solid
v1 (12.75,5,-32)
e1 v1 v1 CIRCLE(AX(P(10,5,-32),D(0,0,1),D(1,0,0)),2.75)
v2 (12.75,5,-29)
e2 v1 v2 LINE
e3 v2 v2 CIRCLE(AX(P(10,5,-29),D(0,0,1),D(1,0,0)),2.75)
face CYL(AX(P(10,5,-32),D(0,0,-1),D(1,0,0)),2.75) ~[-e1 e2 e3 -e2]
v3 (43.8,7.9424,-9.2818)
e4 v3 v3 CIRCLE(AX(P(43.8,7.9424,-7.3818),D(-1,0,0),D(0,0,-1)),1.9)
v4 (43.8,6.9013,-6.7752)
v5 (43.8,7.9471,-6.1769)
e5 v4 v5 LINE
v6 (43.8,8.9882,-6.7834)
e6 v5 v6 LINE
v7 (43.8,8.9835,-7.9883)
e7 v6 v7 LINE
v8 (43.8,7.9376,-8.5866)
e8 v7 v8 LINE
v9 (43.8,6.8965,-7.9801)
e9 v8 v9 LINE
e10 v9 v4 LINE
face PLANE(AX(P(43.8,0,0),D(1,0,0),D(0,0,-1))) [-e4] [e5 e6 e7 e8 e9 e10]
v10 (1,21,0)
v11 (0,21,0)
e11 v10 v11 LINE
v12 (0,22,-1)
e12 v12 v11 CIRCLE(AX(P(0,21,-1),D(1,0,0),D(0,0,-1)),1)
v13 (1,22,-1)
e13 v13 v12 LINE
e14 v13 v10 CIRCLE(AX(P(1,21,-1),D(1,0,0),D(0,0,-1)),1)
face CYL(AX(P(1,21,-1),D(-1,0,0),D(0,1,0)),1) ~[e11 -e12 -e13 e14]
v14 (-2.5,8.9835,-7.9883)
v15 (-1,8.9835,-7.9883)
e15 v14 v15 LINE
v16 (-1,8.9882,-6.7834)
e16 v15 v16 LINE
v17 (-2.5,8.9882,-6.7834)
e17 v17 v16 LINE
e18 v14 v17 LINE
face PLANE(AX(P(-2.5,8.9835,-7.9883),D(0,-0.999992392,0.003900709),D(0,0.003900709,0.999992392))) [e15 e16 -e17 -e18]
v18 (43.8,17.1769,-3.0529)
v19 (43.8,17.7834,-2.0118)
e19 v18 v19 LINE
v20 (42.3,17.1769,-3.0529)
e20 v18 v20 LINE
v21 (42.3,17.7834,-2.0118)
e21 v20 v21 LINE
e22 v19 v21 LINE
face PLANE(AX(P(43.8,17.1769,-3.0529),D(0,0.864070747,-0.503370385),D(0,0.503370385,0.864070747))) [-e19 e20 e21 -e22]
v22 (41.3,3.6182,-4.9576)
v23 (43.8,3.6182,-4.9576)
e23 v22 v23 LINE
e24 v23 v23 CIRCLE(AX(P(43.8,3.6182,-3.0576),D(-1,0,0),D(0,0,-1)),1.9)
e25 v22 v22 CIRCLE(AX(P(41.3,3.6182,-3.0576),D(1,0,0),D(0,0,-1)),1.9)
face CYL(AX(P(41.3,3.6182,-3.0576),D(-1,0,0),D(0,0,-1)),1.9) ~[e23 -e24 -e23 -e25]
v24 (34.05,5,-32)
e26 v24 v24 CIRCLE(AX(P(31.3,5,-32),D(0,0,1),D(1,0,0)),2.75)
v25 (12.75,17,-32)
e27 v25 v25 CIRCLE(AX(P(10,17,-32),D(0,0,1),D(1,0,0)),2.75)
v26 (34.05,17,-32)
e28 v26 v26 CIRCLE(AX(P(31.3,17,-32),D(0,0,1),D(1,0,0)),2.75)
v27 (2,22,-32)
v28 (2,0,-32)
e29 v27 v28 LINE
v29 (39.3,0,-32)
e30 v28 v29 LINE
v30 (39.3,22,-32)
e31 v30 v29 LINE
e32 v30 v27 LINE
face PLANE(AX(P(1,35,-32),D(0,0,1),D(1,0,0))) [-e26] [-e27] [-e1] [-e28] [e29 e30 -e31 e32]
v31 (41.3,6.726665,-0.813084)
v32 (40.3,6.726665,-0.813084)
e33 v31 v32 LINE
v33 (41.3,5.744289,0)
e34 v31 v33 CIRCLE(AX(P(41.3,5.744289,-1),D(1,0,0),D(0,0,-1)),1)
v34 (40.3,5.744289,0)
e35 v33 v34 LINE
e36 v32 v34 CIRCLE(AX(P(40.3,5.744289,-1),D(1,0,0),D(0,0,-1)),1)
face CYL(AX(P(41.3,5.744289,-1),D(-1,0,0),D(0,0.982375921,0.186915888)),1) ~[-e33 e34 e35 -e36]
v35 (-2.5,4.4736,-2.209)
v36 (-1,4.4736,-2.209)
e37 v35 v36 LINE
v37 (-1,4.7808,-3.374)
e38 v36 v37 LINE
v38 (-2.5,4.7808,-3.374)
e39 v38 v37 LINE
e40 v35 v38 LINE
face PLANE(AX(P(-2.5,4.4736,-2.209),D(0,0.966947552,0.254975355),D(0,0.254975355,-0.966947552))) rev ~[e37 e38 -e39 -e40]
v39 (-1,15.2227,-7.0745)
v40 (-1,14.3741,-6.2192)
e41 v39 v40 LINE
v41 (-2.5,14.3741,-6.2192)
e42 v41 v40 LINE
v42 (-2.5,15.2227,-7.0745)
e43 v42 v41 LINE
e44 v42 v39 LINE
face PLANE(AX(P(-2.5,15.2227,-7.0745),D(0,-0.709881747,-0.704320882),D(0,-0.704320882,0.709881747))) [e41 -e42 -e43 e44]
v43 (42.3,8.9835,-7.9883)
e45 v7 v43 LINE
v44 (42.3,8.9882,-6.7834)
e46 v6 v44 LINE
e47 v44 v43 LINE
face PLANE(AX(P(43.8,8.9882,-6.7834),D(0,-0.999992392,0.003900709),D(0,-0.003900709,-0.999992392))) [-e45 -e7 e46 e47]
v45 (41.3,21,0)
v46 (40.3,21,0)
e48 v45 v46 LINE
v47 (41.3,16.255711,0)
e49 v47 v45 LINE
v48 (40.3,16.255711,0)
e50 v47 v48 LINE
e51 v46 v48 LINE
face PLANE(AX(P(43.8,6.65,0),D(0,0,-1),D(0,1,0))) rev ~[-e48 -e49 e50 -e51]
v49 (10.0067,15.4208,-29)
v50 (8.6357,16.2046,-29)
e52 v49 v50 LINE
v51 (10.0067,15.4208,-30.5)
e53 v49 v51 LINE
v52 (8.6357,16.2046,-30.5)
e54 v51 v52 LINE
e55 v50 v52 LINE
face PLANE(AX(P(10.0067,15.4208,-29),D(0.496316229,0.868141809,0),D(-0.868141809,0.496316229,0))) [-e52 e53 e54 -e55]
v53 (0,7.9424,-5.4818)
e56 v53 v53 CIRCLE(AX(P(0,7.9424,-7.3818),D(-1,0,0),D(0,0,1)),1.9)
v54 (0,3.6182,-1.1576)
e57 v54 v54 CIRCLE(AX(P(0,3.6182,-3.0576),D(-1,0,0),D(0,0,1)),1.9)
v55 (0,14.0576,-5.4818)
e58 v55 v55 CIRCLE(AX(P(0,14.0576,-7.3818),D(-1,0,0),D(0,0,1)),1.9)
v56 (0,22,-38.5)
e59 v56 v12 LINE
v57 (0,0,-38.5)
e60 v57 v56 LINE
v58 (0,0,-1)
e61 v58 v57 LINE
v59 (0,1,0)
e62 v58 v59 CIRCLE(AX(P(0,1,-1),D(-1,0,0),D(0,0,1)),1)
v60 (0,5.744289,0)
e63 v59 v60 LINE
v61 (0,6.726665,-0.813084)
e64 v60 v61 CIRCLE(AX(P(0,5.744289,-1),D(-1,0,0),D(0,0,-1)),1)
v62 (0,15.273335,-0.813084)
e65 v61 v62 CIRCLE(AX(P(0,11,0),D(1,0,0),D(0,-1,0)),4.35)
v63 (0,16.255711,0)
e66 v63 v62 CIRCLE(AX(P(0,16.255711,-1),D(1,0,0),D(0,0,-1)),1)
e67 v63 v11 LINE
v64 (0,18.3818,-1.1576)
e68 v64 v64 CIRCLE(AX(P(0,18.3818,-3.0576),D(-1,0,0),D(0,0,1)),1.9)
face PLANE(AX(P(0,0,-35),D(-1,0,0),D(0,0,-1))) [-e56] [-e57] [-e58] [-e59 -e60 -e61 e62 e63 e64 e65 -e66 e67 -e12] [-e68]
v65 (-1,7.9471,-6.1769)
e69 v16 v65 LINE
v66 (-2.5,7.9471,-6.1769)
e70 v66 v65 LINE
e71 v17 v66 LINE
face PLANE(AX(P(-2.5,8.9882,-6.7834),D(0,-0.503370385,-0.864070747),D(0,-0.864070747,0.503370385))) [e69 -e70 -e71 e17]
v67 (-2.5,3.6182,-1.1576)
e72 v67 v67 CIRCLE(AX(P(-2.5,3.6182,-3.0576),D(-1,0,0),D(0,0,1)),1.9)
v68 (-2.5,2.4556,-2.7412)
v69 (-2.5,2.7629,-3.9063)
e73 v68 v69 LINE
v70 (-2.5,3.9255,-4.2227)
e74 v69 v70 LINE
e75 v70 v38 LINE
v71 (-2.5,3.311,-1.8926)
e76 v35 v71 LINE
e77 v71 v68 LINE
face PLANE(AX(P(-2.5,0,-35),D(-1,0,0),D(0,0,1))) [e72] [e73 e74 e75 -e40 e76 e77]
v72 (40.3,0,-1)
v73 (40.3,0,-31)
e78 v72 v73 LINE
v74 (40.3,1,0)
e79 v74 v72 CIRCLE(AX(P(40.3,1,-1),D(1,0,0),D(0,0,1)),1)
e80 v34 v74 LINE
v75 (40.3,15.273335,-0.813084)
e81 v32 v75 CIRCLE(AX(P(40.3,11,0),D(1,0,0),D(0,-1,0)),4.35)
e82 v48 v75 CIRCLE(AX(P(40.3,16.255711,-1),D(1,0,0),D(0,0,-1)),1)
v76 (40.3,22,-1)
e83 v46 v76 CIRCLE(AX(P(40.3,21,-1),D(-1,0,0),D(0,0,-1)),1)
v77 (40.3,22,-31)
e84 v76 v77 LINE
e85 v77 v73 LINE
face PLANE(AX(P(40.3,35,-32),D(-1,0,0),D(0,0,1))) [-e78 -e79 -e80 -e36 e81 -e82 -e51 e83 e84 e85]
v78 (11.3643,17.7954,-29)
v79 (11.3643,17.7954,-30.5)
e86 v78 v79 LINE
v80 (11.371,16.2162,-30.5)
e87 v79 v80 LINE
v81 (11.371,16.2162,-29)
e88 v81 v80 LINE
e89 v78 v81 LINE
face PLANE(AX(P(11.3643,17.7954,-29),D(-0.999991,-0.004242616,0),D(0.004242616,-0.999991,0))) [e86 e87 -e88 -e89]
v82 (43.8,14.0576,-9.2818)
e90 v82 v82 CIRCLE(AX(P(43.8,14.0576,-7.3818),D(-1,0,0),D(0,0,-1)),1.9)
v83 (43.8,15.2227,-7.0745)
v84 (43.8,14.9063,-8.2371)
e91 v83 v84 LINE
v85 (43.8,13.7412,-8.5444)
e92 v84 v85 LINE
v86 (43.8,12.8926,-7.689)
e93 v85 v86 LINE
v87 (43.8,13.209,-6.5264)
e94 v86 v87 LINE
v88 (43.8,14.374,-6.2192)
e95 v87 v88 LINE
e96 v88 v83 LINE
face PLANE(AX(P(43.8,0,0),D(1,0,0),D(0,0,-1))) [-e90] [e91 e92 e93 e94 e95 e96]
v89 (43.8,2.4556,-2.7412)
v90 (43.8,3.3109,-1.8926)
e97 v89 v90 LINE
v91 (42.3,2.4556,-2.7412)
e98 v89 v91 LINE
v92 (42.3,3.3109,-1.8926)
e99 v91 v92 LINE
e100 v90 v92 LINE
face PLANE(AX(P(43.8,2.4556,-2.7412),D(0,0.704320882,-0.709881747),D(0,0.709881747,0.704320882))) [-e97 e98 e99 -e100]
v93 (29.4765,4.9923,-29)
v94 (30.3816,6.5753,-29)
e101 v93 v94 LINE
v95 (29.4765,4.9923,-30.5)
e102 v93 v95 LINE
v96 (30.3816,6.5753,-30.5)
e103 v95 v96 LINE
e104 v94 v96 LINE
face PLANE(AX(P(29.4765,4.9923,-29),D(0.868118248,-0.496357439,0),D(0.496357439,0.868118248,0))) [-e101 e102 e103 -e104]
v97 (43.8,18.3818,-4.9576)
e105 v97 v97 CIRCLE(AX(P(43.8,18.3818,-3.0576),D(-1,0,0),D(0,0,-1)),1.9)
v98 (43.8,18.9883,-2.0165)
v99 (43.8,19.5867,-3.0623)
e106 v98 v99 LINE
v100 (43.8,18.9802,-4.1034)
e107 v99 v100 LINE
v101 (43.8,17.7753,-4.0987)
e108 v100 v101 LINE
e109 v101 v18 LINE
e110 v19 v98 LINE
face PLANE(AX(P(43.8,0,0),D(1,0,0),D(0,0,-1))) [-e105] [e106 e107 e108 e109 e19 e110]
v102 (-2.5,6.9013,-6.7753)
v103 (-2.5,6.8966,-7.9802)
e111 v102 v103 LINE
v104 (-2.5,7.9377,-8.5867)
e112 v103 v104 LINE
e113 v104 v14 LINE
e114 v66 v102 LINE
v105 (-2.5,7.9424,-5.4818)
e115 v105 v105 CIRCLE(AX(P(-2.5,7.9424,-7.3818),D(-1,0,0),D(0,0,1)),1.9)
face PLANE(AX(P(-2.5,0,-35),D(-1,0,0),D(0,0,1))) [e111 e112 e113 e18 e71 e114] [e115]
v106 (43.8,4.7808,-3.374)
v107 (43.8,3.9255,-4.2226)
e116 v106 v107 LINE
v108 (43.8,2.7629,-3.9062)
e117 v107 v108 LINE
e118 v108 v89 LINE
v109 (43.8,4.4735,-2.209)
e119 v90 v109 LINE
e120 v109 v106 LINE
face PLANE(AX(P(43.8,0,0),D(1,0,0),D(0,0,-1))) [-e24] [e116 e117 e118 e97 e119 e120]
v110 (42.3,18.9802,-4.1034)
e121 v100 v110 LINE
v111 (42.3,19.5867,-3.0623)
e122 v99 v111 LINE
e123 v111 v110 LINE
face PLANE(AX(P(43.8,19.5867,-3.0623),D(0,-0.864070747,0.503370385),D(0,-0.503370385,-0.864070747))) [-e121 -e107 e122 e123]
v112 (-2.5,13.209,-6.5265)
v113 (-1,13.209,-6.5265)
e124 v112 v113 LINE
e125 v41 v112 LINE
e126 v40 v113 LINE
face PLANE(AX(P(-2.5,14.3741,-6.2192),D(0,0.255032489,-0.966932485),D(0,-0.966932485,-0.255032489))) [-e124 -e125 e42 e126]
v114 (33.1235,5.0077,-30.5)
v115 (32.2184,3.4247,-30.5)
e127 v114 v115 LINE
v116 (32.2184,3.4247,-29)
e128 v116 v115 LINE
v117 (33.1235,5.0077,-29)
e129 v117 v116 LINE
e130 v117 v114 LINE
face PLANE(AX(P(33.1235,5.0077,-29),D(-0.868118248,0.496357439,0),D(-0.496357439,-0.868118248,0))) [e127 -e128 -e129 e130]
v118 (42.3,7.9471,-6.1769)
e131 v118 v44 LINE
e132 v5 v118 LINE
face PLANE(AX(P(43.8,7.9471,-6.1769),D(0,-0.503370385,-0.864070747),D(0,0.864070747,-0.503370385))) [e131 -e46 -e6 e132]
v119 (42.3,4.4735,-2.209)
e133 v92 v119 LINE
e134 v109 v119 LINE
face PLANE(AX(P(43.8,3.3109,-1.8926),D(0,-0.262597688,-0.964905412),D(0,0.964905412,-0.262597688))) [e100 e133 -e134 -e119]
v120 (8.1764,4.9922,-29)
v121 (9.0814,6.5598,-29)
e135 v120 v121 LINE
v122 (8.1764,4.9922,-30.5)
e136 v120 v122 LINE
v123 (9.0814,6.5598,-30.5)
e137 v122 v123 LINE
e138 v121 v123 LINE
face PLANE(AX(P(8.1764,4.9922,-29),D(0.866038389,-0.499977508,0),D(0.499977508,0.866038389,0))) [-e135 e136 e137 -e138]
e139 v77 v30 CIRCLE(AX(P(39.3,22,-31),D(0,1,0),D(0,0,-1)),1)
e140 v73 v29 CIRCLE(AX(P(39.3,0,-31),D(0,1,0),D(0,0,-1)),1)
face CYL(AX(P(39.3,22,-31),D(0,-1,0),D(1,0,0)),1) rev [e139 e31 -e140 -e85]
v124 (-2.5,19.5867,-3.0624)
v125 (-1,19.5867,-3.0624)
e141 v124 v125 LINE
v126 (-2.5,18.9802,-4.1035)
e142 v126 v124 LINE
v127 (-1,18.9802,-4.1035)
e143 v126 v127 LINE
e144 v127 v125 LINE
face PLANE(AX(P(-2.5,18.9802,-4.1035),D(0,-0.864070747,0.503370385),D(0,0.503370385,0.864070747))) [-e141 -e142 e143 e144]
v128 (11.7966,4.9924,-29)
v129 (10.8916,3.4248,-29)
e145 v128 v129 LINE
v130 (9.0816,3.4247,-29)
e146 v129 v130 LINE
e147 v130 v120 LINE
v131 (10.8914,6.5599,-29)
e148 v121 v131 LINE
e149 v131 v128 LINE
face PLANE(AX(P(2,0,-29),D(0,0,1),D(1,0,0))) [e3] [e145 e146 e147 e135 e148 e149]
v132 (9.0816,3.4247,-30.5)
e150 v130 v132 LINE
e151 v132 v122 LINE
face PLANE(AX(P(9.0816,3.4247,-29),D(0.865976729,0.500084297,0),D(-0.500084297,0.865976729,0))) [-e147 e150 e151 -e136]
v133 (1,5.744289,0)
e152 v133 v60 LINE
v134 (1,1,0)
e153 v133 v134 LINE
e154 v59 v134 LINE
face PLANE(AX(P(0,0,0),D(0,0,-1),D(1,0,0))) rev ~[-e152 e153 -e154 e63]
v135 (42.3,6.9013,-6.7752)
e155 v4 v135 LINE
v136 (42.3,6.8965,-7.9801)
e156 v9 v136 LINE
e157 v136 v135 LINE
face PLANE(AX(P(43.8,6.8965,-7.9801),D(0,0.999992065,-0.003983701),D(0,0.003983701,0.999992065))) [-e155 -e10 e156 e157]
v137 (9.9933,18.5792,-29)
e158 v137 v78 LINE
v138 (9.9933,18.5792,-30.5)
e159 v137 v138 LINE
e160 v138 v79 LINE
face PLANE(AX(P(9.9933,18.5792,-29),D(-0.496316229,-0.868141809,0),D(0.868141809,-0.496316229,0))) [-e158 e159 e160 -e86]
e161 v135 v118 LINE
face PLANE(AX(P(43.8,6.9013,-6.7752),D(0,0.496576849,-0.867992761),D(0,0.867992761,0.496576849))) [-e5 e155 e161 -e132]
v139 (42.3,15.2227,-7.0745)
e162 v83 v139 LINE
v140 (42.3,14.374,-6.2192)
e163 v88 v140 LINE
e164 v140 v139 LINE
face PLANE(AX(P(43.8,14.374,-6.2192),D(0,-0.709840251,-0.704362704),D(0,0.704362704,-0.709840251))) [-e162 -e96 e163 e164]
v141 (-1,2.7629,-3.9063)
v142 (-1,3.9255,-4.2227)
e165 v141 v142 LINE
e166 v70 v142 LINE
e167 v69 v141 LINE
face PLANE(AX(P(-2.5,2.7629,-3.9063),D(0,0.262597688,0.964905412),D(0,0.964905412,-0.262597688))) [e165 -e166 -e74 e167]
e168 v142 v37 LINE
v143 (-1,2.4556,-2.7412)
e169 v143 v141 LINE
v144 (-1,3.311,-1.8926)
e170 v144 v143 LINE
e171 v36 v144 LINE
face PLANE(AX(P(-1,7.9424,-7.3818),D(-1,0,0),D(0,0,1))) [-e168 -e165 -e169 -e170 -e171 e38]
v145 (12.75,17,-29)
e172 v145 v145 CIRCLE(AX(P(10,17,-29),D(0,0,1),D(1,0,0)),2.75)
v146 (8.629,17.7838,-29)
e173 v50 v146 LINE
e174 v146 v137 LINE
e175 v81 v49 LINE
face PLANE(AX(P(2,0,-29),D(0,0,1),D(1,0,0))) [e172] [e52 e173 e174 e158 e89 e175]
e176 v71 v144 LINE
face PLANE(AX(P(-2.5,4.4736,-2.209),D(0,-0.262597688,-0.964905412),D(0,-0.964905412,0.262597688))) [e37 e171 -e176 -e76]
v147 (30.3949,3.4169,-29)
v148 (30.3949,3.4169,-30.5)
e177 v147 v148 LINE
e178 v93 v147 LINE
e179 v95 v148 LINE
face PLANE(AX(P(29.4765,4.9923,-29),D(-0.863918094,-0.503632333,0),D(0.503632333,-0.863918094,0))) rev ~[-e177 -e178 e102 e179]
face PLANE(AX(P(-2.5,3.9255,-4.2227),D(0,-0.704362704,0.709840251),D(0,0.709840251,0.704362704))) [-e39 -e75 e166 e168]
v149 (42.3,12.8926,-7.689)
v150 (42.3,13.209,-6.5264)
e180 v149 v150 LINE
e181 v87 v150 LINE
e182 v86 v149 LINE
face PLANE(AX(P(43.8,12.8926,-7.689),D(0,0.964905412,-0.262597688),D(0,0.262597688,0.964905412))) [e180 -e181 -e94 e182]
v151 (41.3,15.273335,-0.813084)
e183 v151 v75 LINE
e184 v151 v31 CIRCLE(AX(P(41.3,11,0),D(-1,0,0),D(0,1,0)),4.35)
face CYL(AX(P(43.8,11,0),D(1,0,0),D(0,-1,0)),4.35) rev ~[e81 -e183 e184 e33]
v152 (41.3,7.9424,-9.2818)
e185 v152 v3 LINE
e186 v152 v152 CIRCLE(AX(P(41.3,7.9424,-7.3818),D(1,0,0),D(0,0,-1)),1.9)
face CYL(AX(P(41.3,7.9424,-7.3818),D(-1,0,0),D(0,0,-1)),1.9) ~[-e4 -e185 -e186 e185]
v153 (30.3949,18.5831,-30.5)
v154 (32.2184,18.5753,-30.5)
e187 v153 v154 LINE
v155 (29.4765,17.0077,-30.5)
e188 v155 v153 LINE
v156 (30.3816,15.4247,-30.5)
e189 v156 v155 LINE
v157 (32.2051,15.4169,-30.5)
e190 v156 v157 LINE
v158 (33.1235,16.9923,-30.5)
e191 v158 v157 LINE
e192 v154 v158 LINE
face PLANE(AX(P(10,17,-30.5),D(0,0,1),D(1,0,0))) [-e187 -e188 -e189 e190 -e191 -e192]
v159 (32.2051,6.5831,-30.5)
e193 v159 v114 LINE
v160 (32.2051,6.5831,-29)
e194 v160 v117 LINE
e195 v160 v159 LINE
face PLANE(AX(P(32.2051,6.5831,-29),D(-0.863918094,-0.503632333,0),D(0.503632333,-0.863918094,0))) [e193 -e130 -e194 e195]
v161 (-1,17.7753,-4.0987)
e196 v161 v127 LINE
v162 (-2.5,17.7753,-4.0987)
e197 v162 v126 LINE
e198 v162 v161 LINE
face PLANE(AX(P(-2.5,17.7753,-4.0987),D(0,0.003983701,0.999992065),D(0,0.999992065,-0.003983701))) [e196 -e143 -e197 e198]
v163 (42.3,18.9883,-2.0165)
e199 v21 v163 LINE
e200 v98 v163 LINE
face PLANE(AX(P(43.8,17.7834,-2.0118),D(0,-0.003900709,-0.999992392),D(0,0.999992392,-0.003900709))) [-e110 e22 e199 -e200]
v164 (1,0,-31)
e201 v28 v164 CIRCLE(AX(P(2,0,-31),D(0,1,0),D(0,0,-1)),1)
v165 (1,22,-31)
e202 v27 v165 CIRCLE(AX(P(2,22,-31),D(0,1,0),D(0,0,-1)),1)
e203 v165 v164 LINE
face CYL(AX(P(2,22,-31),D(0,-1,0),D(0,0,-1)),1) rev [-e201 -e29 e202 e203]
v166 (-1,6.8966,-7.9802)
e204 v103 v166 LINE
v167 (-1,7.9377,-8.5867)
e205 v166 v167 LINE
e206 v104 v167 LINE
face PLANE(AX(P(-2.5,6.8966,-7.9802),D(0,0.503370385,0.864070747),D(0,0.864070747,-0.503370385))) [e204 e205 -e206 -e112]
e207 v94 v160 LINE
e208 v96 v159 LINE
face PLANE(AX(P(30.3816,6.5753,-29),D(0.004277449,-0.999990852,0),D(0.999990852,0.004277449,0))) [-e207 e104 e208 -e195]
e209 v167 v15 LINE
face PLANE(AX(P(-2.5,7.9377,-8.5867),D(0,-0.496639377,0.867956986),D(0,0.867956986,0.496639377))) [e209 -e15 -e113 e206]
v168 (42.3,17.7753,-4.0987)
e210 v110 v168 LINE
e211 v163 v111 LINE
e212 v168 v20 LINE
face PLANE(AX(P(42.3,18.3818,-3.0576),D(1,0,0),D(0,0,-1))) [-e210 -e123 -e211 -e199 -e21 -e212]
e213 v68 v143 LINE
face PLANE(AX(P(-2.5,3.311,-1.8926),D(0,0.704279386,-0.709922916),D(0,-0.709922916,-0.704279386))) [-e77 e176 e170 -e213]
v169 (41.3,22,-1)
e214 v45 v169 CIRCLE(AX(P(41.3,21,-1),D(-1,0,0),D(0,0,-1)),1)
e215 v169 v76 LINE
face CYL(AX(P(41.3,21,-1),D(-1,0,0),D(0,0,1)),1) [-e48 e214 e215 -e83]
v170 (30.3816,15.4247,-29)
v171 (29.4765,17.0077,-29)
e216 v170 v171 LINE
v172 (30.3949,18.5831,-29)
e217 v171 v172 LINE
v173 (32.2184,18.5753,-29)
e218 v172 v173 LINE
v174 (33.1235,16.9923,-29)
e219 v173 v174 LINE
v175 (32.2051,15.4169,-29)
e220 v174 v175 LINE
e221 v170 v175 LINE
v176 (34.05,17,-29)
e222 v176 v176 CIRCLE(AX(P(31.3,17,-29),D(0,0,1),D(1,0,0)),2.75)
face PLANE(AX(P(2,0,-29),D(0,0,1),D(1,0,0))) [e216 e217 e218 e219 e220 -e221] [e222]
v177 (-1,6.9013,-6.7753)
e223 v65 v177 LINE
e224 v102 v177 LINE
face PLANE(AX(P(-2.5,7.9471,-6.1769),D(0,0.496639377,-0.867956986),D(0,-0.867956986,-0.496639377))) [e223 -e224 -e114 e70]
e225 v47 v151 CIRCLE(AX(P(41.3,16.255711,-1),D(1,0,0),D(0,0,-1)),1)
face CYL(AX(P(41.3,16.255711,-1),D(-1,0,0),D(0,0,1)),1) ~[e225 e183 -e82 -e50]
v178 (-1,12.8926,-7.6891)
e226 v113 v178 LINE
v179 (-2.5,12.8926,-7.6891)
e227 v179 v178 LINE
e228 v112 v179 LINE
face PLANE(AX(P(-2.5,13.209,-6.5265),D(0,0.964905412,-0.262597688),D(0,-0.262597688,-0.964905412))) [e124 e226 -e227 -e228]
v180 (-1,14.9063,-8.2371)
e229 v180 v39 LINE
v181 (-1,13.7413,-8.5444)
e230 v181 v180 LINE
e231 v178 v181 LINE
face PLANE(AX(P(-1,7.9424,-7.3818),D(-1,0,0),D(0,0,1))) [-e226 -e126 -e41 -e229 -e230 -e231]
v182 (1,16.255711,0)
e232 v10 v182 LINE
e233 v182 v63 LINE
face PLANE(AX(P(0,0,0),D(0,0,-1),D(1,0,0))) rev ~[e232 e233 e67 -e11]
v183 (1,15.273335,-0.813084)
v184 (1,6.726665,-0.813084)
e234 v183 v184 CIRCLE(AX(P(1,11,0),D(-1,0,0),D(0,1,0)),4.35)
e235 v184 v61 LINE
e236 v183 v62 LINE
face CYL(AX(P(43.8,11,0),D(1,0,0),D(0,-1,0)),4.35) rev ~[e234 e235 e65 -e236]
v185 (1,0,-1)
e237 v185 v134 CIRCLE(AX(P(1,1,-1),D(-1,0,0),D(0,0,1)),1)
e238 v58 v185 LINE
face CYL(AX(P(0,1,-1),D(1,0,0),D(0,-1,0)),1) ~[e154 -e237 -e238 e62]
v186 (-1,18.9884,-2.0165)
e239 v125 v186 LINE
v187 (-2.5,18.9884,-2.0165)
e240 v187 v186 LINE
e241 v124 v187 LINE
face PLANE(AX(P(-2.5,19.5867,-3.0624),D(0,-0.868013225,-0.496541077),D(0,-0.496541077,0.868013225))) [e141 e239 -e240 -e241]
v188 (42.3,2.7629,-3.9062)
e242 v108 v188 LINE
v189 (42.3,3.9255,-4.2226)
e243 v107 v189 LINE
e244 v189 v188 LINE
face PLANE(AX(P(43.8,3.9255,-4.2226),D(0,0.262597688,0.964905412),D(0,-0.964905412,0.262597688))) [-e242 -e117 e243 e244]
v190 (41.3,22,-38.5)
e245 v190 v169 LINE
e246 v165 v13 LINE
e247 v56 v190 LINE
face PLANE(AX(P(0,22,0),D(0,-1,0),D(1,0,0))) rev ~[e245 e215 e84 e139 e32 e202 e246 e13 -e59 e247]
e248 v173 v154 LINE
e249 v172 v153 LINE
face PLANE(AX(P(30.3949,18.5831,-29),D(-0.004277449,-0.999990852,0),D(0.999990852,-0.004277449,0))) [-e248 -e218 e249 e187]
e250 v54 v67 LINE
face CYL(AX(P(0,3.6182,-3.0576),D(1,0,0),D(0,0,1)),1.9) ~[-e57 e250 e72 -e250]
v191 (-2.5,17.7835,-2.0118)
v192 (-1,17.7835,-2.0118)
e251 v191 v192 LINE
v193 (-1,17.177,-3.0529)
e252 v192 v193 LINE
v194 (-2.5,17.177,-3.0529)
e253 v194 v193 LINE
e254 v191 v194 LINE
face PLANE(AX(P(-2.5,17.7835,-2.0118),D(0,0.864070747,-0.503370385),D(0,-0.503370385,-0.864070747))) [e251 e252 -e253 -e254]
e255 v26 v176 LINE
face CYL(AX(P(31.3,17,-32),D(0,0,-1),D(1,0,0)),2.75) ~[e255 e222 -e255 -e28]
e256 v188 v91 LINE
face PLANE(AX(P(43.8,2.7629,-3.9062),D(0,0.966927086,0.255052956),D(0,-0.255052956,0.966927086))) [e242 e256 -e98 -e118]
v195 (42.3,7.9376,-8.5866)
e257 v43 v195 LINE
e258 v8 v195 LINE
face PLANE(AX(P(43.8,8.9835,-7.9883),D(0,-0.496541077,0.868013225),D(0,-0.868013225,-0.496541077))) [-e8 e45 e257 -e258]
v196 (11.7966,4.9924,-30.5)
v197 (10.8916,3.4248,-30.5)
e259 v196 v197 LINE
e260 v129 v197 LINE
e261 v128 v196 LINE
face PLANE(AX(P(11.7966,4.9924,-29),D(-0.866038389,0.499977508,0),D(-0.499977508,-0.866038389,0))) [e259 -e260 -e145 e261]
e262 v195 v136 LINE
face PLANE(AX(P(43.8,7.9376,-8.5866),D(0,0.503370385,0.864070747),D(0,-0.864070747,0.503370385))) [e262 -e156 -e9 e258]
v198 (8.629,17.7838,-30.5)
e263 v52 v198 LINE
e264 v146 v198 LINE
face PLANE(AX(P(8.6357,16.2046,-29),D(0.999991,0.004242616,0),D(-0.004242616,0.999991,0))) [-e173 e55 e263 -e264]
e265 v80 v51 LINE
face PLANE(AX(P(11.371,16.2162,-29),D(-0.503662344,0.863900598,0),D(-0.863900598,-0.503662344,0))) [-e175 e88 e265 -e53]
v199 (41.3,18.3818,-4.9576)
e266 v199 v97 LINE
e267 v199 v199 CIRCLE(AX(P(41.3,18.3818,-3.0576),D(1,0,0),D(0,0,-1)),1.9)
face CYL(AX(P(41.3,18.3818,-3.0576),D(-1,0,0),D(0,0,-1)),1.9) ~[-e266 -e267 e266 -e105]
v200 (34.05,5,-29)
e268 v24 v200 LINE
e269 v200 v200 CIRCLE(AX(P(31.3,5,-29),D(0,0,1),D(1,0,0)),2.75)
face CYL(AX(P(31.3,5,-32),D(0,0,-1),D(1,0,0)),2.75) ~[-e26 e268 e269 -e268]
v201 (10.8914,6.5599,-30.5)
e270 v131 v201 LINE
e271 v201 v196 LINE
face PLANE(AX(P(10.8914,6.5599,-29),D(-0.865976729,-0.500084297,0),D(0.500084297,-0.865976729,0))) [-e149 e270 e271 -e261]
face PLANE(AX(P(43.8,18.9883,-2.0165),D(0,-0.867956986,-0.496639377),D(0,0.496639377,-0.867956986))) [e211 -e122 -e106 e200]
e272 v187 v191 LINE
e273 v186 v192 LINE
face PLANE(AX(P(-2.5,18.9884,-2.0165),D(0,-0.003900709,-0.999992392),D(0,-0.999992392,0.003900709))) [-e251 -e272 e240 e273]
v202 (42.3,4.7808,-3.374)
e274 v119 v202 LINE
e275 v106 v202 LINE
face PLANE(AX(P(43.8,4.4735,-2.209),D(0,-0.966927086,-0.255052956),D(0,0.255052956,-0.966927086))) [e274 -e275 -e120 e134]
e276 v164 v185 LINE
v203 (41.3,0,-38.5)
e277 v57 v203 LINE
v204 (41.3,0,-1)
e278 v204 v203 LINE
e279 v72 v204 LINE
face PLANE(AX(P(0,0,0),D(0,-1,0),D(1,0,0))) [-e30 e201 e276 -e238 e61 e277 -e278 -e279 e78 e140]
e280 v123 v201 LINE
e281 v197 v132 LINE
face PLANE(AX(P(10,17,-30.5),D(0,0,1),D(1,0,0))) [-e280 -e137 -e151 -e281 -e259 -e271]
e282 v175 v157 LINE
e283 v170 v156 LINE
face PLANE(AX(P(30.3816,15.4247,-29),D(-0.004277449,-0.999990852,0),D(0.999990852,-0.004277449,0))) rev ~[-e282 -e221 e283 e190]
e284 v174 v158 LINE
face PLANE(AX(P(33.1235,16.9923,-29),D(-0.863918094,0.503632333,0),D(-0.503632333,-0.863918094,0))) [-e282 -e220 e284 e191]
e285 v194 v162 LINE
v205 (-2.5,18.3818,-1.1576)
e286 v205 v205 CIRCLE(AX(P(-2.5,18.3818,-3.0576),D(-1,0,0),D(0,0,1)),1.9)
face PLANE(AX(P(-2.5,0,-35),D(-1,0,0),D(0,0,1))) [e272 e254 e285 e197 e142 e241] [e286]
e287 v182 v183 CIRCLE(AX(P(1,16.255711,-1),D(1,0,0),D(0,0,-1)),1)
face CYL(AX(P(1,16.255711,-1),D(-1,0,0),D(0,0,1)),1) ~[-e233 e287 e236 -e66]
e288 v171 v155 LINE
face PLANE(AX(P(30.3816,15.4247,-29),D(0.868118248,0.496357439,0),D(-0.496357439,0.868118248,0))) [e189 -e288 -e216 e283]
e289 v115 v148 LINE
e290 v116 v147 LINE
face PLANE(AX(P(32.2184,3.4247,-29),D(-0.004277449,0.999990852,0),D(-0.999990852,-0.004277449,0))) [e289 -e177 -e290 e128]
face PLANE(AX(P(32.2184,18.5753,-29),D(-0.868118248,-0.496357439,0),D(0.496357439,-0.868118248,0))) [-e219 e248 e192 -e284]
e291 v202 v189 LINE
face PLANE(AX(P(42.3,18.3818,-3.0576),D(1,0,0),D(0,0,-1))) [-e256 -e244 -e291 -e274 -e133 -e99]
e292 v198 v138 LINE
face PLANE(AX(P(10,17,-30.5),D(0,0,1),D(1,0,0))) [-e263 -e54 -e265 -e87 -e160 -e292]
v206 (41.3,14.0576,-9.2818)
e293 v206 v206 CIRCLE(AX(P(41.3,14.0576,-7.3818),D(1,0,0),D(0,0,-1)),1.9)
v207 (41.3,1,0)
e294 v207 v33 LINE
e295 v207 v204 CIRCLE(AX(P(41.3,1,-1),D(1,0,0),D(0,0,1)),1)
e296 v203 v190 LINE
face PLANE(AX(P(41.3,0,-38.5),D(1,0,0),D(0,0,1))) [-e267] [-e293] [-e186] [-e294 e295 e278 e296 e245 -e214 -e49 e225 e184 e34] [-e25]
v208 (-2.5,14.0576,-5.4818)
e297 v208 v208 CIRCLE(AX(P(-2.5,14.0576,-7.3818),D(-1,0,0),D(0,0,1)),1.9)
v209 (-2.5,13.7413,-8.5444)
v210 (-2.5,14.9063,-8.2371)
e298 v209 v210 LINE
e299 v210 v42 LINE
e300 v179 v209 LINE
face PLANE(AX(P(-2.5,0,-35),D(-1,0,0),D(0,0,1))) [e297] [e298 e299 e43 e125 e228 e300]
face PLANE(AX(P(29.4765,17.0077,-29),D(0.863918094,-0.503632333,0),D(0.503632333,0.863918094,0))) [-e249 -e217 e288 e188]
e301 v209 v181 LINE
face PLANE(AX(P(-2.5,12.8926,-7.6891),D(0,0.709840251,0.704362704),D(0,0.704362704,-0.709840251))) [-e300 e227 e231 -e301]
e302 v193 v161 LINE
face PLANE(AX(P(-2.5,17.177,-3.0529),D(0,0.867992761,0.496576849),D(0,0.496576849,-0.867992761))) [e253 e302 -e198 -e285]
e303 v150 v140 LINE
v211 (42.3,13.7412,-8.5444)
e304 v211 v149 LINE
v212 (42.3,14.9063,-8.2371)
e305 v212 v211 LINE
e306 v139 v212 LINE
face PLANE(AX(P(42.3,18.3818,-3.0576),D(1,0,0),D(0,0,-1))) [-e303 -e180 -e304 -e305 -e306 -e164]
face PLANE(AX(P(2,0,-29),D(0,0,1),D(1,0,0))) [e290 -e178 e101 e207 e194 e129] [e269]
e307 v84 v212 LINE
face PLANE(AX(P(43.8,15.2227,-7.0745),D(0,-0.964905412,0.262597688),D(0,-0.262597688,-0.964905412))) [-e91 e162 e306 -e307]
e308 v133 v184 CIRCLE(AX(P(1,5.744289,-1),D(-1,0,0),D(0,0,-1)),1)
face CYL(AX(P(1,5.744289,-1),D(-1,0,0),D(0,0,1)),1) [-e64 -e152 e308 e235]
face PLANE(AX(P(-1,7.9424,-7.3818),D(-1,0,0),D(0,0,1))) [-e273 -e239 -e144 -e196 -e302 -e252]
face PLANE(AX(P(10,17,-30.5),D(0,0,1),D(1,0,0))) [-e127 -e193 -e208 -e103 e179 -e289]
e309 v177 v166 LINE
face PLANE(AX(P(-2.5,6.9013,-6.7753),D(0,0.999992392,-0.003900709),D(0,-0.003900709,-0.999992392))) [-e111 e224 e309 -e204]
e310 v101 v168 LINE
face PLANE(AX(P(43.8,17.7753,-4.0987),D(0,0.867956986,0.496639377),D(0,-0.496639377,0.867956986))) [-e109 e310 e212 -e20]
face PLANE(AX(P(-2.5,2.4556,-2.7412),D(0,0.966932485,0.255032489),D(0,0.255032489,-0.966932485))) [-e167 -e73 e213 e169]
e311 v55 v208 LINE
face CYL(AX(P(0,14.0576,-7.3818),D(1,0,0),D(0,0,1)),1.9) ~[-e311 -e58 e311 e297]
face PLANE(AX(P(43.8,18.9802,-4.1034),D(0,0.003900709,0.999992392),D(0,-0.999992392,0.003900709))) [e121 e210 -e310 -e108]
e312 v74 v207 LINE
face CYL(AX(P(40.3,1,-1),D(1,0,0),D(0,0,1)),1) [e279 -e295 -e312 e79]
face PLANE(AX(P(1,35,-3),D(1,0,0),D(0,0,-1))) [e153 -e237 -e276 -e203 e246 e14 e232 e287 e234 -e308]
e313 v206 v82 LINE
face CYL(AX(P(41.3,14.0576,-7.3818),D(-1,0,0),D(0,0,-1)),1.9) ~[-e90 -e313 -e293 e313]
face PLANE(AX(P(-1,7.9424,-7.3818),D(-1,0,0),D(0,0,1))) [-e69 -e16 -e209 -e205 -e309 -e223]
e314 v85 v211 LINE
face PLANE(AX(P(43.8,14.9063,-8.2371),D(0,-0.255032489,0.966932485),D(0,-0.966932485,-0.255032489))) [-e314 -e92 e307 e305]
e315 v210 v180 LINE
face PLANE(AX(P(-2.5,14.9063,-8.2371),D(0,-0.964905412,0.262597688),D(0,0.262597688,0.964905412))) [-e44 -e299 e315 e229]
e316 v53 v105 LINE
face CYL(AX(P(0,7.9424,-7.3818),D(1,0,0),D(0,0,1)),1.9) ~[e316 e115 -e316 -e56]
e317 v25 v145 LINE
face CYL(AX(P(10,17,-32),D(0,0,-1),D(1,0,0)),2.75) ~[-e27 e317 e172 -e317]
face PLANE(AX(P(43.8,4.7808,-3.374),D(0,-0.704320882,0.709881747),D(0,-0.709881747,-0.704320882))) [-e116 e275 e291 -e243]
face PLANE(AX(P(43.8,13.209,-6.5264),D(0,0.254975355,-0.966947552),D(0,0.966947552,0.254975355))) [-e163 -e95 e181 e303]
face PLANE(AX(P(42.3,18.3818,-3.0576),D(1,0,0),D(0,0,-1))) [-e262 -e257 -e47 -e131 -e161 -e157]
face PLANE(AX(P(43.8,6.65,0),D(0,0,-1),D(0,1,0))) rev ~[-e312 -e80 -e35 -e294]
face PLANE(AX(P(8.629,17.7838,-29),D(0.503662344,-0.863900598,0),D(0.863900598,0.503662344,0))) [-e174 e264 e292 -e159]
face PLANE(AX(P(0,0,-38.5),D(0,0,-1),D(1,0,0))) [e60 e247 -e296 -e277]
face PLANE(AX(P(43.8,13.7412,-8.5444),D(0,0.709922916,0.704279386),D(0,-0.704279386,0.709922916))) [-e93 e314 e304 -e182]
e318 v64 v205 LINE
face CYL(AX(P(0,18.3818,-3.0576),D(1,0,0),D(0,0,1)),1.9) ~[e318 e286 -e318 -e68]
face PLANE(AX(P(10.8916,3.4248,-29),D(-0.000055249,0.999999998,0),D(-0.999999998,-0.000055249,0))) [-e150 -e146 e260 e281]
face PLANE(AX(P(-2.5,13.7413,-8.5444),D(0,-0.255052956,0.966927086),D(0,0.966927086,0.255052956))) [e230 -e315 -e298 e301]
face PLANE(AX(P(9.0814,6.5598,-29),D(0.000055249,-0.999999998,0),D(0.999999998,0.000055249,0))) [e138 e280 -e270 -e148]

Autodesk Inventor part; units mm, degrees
ref_plane "YZ Plane" through (0, 0, 0) normal (1, 0, 0) x (0, 1, 0)
ref_plane "XZ Plane" through (0, 0, 0) normal (0, 1, 0) x (-1, 0, 0)
ref_plane "XY Plane" through (0, 0, 0) normal (0, 0, 1) x (1, 0, 0)
sketch "Esboço1" plane through (0, 0, 0) normal (0, 1, 0) x (-1, 0, 0)
  line L0 (0, 0) -> (-41.3, 0)
  line L1 (-41.3, 0) -> (-41.3, -35)
  line L2 (-41.3, -35) -> (0, -35)
  line L3 (0, -35) -> (0, 0)
  dimension "d0" = 41.3
  dimension "d1" = 35
extrude "Extrusão1" add sketch "Esboço1" along normal blind 35
sketch "Esboço2" plane through (0, 35, 0) normal (0, 1, 0) x (1, 0, 0)
  line L0 (0, 35) -> (0, 0) projected
  line L1 (0, 35) -> (1, 35)
  line L2 (1, 35) -> (1, 32)
  line L3 (1, 32) -> (0, 32)
  line L4 (0, 32) -> (0, 35)
  line L5 (41.3, 0) -> (41.3, 35) projected
  line L6 (41.3, 0) -> (40.3, 0)
  line L7 (40.3, 0) -> (40.3, 3)
  line L8 (40.3, 3) -> (41.3, 3)
  line L9 (41.3, 3) -> (41.3, 0)
  line L10 (40.3, 3) -> (1, 3)
  line L11 (1, 3) -> (1, 32)
  line L12 (1, 32) -> (40.3, 32)
  line L13 (40.3, 32) -> (40.3, 3)
  line L14 (40.3, 3) -> (1, 3)
  line L15 (1, 3) -> (1, 0)
  line L16 (1, 0) -> (40.3, 0)
  line L17 (40.3, 0) -> (40.3, 3)
  point P0 (1, 3)
  dimension "d4" = 1
  dimension "d5" = 3
  dimension "d6" = 1
  dimension "d7" = 3
extrude "Extrusão2" cut sketch "Esboço2" against normal blind 35 contours L12 L13 L10 L11 | L10 L7 L16 L15
sketch "Esboço3" plane through (41.3, 0, 0) normal (1, 0, 0) x (0, 0, -1)
  line L0 (0, 0) -> (0, 35) projected
  line L1 (32, 0) -> (0, 0) projected
  line L2 (35, 0) -> (35, 35) projected
  line L3 (0, 0) -> (35, 0)
  line L4 (35, 0) -> (35, 22)
  line L5 (35, 22) -> (0, 22)
  line L6 (0, 22) -> (0, 0)
  line L7 (0, 22) -> (35, 22)
  line L8 (35, 22) -> (35, 35)
  line L9 (35, 35) -> (0, 35)
  line L10 (0, 35) -> (0, 22)
  dimension "d11" = 22
extrude "Extrusão3" cut sketch "Esboço3" against normal blind 65 contours L0 L9 L2 L5
sketch "Esboço4" plane through (41.3, 0, 0) normal (1, 0, 0) x (0, 0, -1)
  line L0 (0, 0) -> (0, 22) projected
  circle A0 centre (0, 11) radius 4
  circle A1 centre (0, 11) radius 7.99
  line L1 (0, 11) -> (3.0576, 18.3818)
  line L2 (0, 11) -> (7.99, 11) construction
  circle A2 centre (3.0576, 18.3818) radius 1.9
  circle A3 centre (-3.0576, 18.3818) radius 1.9
  circle A4 centre (-7.3818, 14.0576) radius 1.9
  circle A5 centre (-7.3818, 7.9424) radius 1.9
  circle A6 centre (-3.0576, 3.6182) radius 1.9
  circle A7 centre (3.0576, 3.6182) radius 1.9
  circle A8 centre (7.3818, 7.9424) radius 1.9
  circle A9 centre (7.3818, 14.0576) radius 1.9
  dimension "d15" = 15.98
  dimension "d14" = 8
  dimension "d16" = 67.5
  dimension "d17" = 3.8
  dimension "d20" = 360
extrude "Extrusão4" add sketch "Esboço4" along normal blind 2.5 contours A7 A1 | A1 A7 | A8 A1 | A1 A8 | A2 A1 L1 | L1 A1 A2 | A2 A1 | A9 A1 | A1 A9
sketch "Esboço5" plane through (43.8, 18.3818, -3.0576) normal (1, 0, 0) x (0, 0, -1)
  line L0 (-0.0101, -1.2843) -> (-1.1173, -0.6334)
  line L1 (-1.1173, -0.6334) -> (-1.1072, 0.6509)
  line L2 (-1.1072, 0.6509) -> (0.0101, 1.2843)
  line L3 (0.0101, 1.2843) -> (1.1173, 0.6334)
  line L4 (1.1173, 0.6334) -> (1.1072, -0.6509)
  line L5 (1.1072, -0.6509) -> (-0.0101, -1.2843)
  line L6 (-3.0576, -18.3818) -> (-3.0576, 3.6182) projected
  circle A0 centre (-3.0576, -7.3818) radius 4.35
  point P0 (0, 0)
  point P1 (-3.0576, -3.0318)
  point P2 (-3.0576, -11.7318)
  dimension "d24" = 8.7
extrude "Extrusão5" add sketch "Esboço5" against normal blind 20 contours L6 A0 picked at (-2.4285, -6.0754)
sketch "Esboço6" plane through (43.8, 18.3818, -3.0576) normal (1, 0, 0) x (0, 0, -1)
  arc A0 (-3.0576, -11.7318) -> (-3.0576, -3.0318) centre (-3.0576, -7.3818) ccw projected
  circle A1 centre (-3.0576, -7.3818) radius 4.35
  point P0 (-3.0576, -18.3818)
  point P1 (-3.0576, -3.0318)
extrude "Extrusão6" cut sketch "Esboço6" against normal blind 100
sketch "Esboço7" plane through (43.8, 18.3818, -3.0576) normal (1, 0, 0) x (0, 0, -1)
  line L0 (-0.0047, -1.2049) -> (-1.0458, -0.5984)
  line L1 (-1.0458, -0.5984) -> (-1.0411, 0.6065)
  line L2 (-1.0411, 0.6065) -> (0.0047, 1.2049)
  line L3 (0.0047, 1.2049) -> (1.0458, 0.5984)
  line L4 (1.0458, 0.5984) -> (1.0411, -0.6065)
  line L5 (1.0411, -0.6065) -> (-0.0047, -1.2049)
  arc A0 (-3.0576, -11.7318) -> (-3.0576, -3.0318) centre (-3.0576, -7.3818) ccw projected
  circle A1 centre (-3.0576, -7.3818) radius 4.35
  line L6 (-5.2666, -0.8553) -> (-6.4317, -1.1626)
  line L7 (-6.4317, -1.1626) -> (-7.2803, -0.3073)
  line L8 (-7.2803, -0.3073) -> (-6.9639, 0.8553)
  line L9 (-6.9639, 0.8553) -> (-5.7989, 1.1626)
  line L10 (-5.7989, 1.1626) -> (-4.9502, 0.3073)
  line L11 (-4.9502, 0.3073) -> (-5.2666, -0.8553)
  line L12 (-9.2346, -4.3289) -> (-9.8411, -5.37)
  line L13 (-9.8411, -5.37) -> (-11.046, -5.3653)
  line L14 (-11.046, -5.3653) -> (-11.6443, -4.3194)
  line L15 (-11.6443, -4.3194) -> (-11.0378, -3.2783)
  line L16 (-11.0378, -3.2783) -> (-9.8329, -3.2831)
  line L17 (-9.8329, -3.2831) -> (-9.2346, -4.3289)
  line L18 (-9.5841, -9.5908) -> (-9.2768, -10.7558)
  line L19 (-9.2768, -10.7558) -> (-10.1321, -11.6045)
  line L20 (-10.1321, -11.6045) -> (-11.2948, -11.2881)
  line L21 (-11.2948, -11.2881) -> (-11.602, -10.123)
  line L22 (-11.602, -10.123) -> (-10.7467, -9.2744)
  line L23 (-10.7467, -9.2744) -> (-9.5841, -9.5908)
  line L24 (-6.1106, -13.5587) -> (-5.0695, -14.1652)
  line L25 (-5.0695, -14.1652) -> (-5.0742, -15.3701)
  line L26 (-5.0742, -15.3701) -> (-6.12, -15.9685)
  line L27 (-6.12, -15.9685) -> (-7.1611, -15.362)
  line L28 (-7.1611, -15.362) -> (-7.1564, -14.1571)
  line L29 (-7.1564, -14.1571) -> (-6.1106, -13.5587)
  line L30 (-0.8486, -13.9083) -> (0.3164, -13.601)
  line L31 (0.3164, -13.601) -> (1.165, -14.4563)
  line L32 (1.165, -14.4563) -> (0.8486, -15.6189)
  line L33 (0.8486, -15.6189) -> (-0.3164, -15.9262)
  line L34 (-0.3164, -15.9262) -> (-1.165, -15.0709)
  line L35 (-1.165, -15.0709) -> (-0.8486, -13.9083)
  line L36 (3.1193, -10.4347) -> (3.7258, -9.3936)
  line L37 (3.7258, -9.3936) -> (4.9307, -9.3983)
  line L38 (4.9307, -9.3983) -> (5.529, -10.4442)
  line L39 (5.529, -10.4442) -> (4.9225, -11.4853)
  line L40 (4.9225, -11.4853) -> (3.7176, -11.4805)
  line L41 (3.7176, -11.4805) -> (3.1193, -10.4347)
  line L42 (3.4688, -5.1728) -> (3.1616, -4.0078)
  line L43 (3.1616, -4.0078) -> (4.0169, -3.1591)
  line L44 (4.0169, -3.1591) -> (5.1795, -3.4755)
  line L45 (5.1795, -3.4755) -> (5.4868, -4.6406)
  line L46 (5.4868, -4.6406) -> (4.6314, -5.4892)
  line L47 (4.6314, -5.4892) -> (3.4688, -5.1728)
  point P0 (-3.0576, -18.3818)
  point P1 (0, 0)
  point P2 (-6.1153, 0)
  point P3 (-10.4394, -4.3242)
  point P4 (-10.4394, -10.4394)
  point P5 (-6.1153, -14.7636)
  point P6 (0, -14.7636)
  point P7 (4.3242, -10.4394)
  point P8 (4.3242, -4.3242)
  dimension "d31" = 360
extrude "Extrusão7" cut sketch "Esboço7" against normal blind 1.5 contours L0 L1 L2 L3 L4 L5 | L30 L31 L32 L33 L34 L35 | L36 L37 L38 L39 L40 L41 | L42 L43 L44 L45 L46 L47
sketch "Esboço8" plane through (0, 0, -35) normal (-1, 0, 0) x (0, 0, 1)
  circle A0 centre (31.9424, 3.6182) radius 1.9 projected
  circle A1 centre (31.9424, 3.6182) radius 1.9
  arc A2 (35, 15.35) -> (35, 6.65) centre (35, 11) ccw projected
  circle A3 centre (35, 11) radius 4.35
  circle A4 centre (38.0576, 3.6182) radius 1.9
  circle A5 centre (42.3818, 7.9424) radius 1.9
  circle A6 centre (42.3818, 14.0576) radius 1.9
  circle A7 centre (38.0576, 18.3818) radius 1.9
  circle A8 centre (31.9424, 18.3818) radius 1.9
  circle A9 centre (27.6182, 14.0576) radius 1.9
  circle A10 centre (27.6182, 7.9424) radius 1.9
  point P0 (35, 0)
  dimension "d37" = 360
extrude "Extrusão8" add sketch "Esboço8" along normal blind 2.5 contours A0 | A8 | A9 | A10
sketch "Esboço9" plane through (-2.5, 7.9424, -7.3818) normal (-1, 0, 0) x (0, 0, 1)
  arc A0 (7.3818, 7.4076) -> (7.3818, -1.2924) centre (7.3818, 3.0576) ccw projected
  circle A1 centre (7.3818, 3.0576) radius 4.35
  circle A2 centre (4.3242, -4.3242) radius 1.9 projected
  line L0 (5.1728, -3.4688) -> (4.0078, -3.1616) projected
  line L1 (4.0078, -3.1616) -> (5.1728, -3.4688)
  line L2 (5.1728, -3.4688) -> (5.4892, -4.6314)
  line L3 (5.4892, -4.6314) -> (4.6406, -5.4868)
  line L4 (4.6406, -5.4868) -> (3.4755, -5.1795)
  line L5 (3.4755, -5.1795) -> (3.1591, -4.0169)
  line L6 (3.1591, -4.0169) -> (4.0078, -3.1616)
  line L7 (9.3936, -3.7258) -> (10.4347, -3.1193)
  line L8 (10.4347, -3.1193) -> (11.4805, -3.7176)
  line L9 (11.4805, -3.7176) -> (11.4853, -4.9225)
  line L10 (11.4853, -4.9225) -> (10.4442, -5.529)
  line L11 (10.4442, -5.529) -> (9.3983, -4.9307)
  line L12 (9.3983, -4.9307) -> (9.3936, -3.7258)
  line L13 (13.601, -0.3164) -> (13.9083, 0.8486)
  line L14 (13.9083, 0.8486) -> (15.0709, 1.165)
  line L15 (15.0709, 1.165) -> (15.9262, 0.3164)
  line L16 (15.9262, 0.3164) -> (15.6189, -0.8486)
  line L17 (15.6189, -0.8486) -> (14.4563, -1.165)
  line L18 (14.4563, -1.165) -> (13.601, -0.3164)
  line L19 (14.1652, 5.0695) -> (13.5587, 6.1106)
  line L20 (13.5587, 6.1106) -> (14.1571, 7.1564)
  line L21 (14.1571, 7.1564) -> (15.362, 7.1611)
  line L22 (15.362, 7.1611) -> (15.9685, 6.12)
  line L23 (15.9685, 6.12) -> (15.3701, 5.0742)
  line L24 (15.3701, 5.0742) -> (14.1652, 5.0695)
  line L25 (10.7558, 9.2768) -> (9.5908, 9.5841)
  line L26 (9.5908, 9.5841) -> (9.2744, 10.7467)
  line L27 (9.2744, 10.7467) -> (10.123, 11.602)
  line L28 (10.123, 11.602) -> (11.2881, 11.2948)
  line L29 (11.2881, 11.2948) -> (11.6045, 10.1321)
  line L30 (11.6045, 10.1321) -> (10.7558, 9.2768)
  line L31 (5.37, 9.8411) -> (4.3289, 9.2346)
  line L32 (4.3289, 9.2346) -> (3.2831, 9.8329)
  line L33 (3.2831, 9.8329) -> (3.2783, 11.0378)
  line L34 (3.2783, 11.0378) -> (4.3194, 11.6443)
  line L35 (4.3194, 11.6443) -> (5.3653, 11.046)
  line L36 (5.3653, 11.046) -> (5.37, 9.8411)
  line L37 (1.1626, 6.4317) -> (0.8553, 5.2666)
  line L38 (0.8553, 5.2666) -> (-0.3073, 4.9502)
  line L39 (-0.3073, 4.9502) -> (-1.1626, 5.7989)
  line L40 (-1.1626, 5.7989) -> (-0.8553, 6.9639)
  line L41 (-0.8553, 6.9639) -> (0.3073, 7.2803)
  line L42 (0.3073, 7.2803) -> (1.1626, 6.4317)
  line L43 (0.5984, 1.0458) -> (1.2049, 0.0047)
  line L44 (1.2049, 0.0047) -> (0.6065, -1.0411)
  line L45 (0.6065, -1.0411) -> (-0.5984, -1.0458)
  line L46 (-0.5984, -1.0458) -> (-1.2049, -0.0047)
  line L47 (-1.2049, -0.0047) -> (-0.6065, 1.0411)
  line L48 (-0.6065, 1.0411) -> (0.5984, 1.0458)
  point P0 (7.3818, -7.9424)
  point P1 (10.4394, -4.3242)
  point P2 (14.7636, 0)
  point P3 (14.7636, 6.1153)
  point P4 (10.4394, 10.4394)
  point P5 (4.3242, 10.4394)
  point P6 (0, 6.1153)
  point P7 (0, 0)
  dimension "d43" = 360
extrude "Extrusão9" cut sketch "Esboço9" against normal blind 1.5 contours L2 L3 L4 L5 L6 L0 | L31 L32 L33 L34 L35 L36 | L37 L38 L39 L40 L41 L42 | L43 L44 L45 L46 L47 L48
fillet "Arredondamento1" radius 1 6 edges at (40.3, 11, -32) (1, 11, -32) (40.8, 15.35, 0) (40.8, 6.65, 0) (0.5, 6.65, 0) (0.5, 15.35, 0)
fillet "Arredondamento2" radius 1 4 edges at (40.8, 0, 0) (0.5, 0, 0) (0.5, 22, 0) (40.8, 22, 0)
sketch "Esboço11" plane through (41.3, 0, -35) normal (0, 0, -1) x (-1, 0, 0)
  line L0 (41.3, 22) -> (0, 22) projected
  line L1 (41.3, 22) -> (31.3, 22)
  line L2 (31.3, 22) -> (36.3, 22)
  line L3 (31.3, 22) -> (26.3, 22)
  line L4 (2, 22) -> (39.3, 22) projected
  line L5 (31.3, 22) -> (31.3, 17)
  circle A0 centre (31.3, 17) radius 2.75
  line L6 (20.65, 22) -> (20.65, 14.25)
  circle A1 centre (10, 17) radius 2.75
  line L7 (0, 6.7267) -> (0, 15.2733) projected
  line L8 (0, 11) -> (12.75, 11)
  circle A2 centre (31.3, 5) radius 2.75
  circle A3 centre (10, 5) radius 2.75
  point P0 (41.3, 0)
  dimension "d58" = 10
  dimension "d59" = 5
  dimension "d60" = 5
  dimension "d61" = 5
  dimension "d62" = 5.5
extrude "Extrusão10" add sketch "Esboço11" along normal blind 3
sketch "Esboço12" plane through (31.3, 17, -38) normal (0, 0, -1) x (-1, 0, 0)
  line L0 (1.8235, 0.0077) -> (0.9184, -1.5753)
  line L1 (0.9184, -1.5753) -> (-0.9051, -1.5831)
  line L2 (-0.9051, -1.5831) -> (-1.8235, -0.0077)
  line L3 (-1.8235, -0.0077) -> (-0.9184, 1.5753)
  line L4 (-0.9184, 1.5753) -> (0.9051, 1.5831)
  line L5 (0.9051, 1.5831) -> (1.8235, 0.0077)
  line L6 (-10, -17) -> (-10, 5) projected
  line L7 (-10, -6) -> (-2.9592, -6)
  line L8 (-8, -17) -> (29.3, -17) projected
  line L9 (10.65, -17) -> (10.65, -10.3267)
  line L10 (1.8235, -12.0077) -> (0.9184, -10.4247)
  line L11 (0.9184, -10.4247) -> (-0.9051, -10.4169)
  line L12 (-0.9051, -10.4169) -> (-1.8235, -11.9923)
  line L13 (-1.8235, -11.9923) -> (-0.9184, -13.5753)
  line L14 (-0.9184, -13.5753) -> (0.9051, -13.5831)
  line L15 (0.9051, -13.5831) -> (1.8235, -12.0077)
  line L16 (19.4765, 0.0077) -> (20.3816, -1.5753)
  line L17 (20.3816, -1.5753) -> (22.2051, -1.5831)
  line L18 (22.2051, -1.5831) -> (23.1235, -0.0077)
  line L19 (23.1235, -0.0077) -> (22.2184, 1.5753)
  line L20 (22.2184, 1.5753) -> (20.3949, 1.5831)
  line L21 (20.3949, 1.5831) -> (19.4765, 0.0077)
  line L22 (19.4765, -12.0077) -> (20.3816, -10.4247)
  line L23 (20.3816, -10.4247) -> (22.2051, -10.4169)
  line L24 (22.2051, -10.4169) -> (23.1235, -11.9923)
  line L25 (23.1235, -11.9923) -> (22.2184, -13.5753)
  line L26 (22.2184, -13.5753) -> (20.3949, -13.5831)
  line L27 (20.3949, -13.5831) -> (19.4765, -12.0077)
  point P0 (31.3, -17)
  point P1 (0, 0)
  point P2 (0, -12)
  point P3 (21.3, 0)
  point P4 (24.2592, -6)
  point P5 (21.3, -12)
extrude "Extrusão11" cut sketch "Esboço12" against normal blind 1.5
sketch "Esboço13" plane through (2, 0, -32) normal (0, 0, 1) x (1, 0, 0)
  circle A0 centre (8, 17) radius 2.75 projected
  circle A1 centre (8, 17) radius 2.75
  circle A2 centre (8, 5) radius 2.75 projected
  circle A3 centre (8, 5) radius 2.75
  circle A4 centre (29.3, 5) radius 2.75 projected
  circle A5 centre (29.3, 5) radius 2.75
  circle A6 centre (29.3, 17) radius 2.75
  point P0 (-2, 0)
extrude "Extrusão12" add sketch "Esboço13" along normal blind 3
sketch "Esboço14" plane through (10, 17, -29) normal (0, 0, 1) x (1, 0, 0)
  line L0 (0.9051, 1.5831) -> (-0.9184, 1.5753) projected
  line L1 (-0.0067, 1.5792) -> (1.3643, 0.7954)
  line L2 (1.3643, 0.7954) -> (1.371, -0.7838)
  line L3 (1.371, -0.7838) -> (0.0067, -1.5792)
  line L4 (0.0067, -1.5792) -> (-1.3643, -0.7954)
  line L5 (-1.3643, -0.7954) -> (-1.371, 0.7838)
  line L6 (-1.371, 0.7838) -> (-0.0067, 1.5792)
  line L7 (-0.9184, -13.5753) -> (0.9051, -13.5831) projected
  line L8 (-0.9184, -13.5753) -> (-1.8236, -12.0078)
  line L9 (-1.8236, -12.0078) -> (-0.9186, -10.4402)
  line L10 (-0.9186, -10.4402) -> (0.8914, -10.4401)
  line L11 (0.8914, -10.4401) -> (1.7966, -12.0076)
  line L12 (1.7966, -12.0076) -> (0.8916, -13.5752)
  line L13 (0.8916, -13.5752) -> (-0.9184, -13.5753)
  circle A0 centre (21.3, -12) radius 2.75 projected
  line L14 (19.4765, -12.0077) -> (20.3949, -13.5831) projected
  line L15 (20.3949, -13.5831) -> (19.4765, -12.0077)
  line L16 (19.4765, -12.0077) -> (20.3816, -10.4247)
  line L17 (20.3816, -10.4247) -> (22.2051, -10.4169)
  line L18 (22.2051, -10.4169) -> (23.1235, -11.9923)
  line L19 (23.1235, -11.9923) -> (22.2184, -13.5753)
  line L20 (22.2184, -13.5753) -> (20.3949, -13.5831)
  circle A1 centre (21.3, 0) radius 2.75 projected
  line L21 (20.3816, -1.5753) -> (22.2051, -1.5831) projected
  line L22 (20.3816, -1.5753) -> (19.4765, 0.0077)
  line L23 (19.4765, 0.0077) -> (20.3949, 1.5831)
  line L24 (20.3949, 1.5831) -> (22.2184, 1.5753)
  line L25 (22.2184, 1.5753) -> (23.1235, -0.0077)
  line L26 (23.1235, -0.0077) -> (22.2051, -1.5831)
  line L27 (22.2051, -1.5831) -> (20.3816, -1.5753)
  point P0 (-10, -17)
  point P1 (0, 0)
  point P2 (-0.0135, -12.0077)
extrude "Extrusão13" cut sketch "Esboço14" against normal blind 1.5 contours L1 L2 L3 L4 L5 L6 | L8 L9 L10 L11 L12 L13 | L16 L17 L18 L19 L20 L14 | L22 L23 L24 L25 L26 L21
sketch "Esboço15" plane through (0, 0, -35) normal (-1, 0, 0) x (0, 0, 1)
  line L0 (0, 0) -> (0, 22) projected
  line L1 (0, 22) -> (-3.5, 22)
  line L2 (-3.5, 22) -> (-3.5, 0)
  line L3 (-3.5, 0) -> (0, 0)
  line L4 (0, 0) -> (0, 22)
  point P0 (35, 0)
  dimension "d71" = 3.5
sketch "Esboço16" plane through (0, 0, 0) normal (0, -1, 0) x (1, 0, 0)
  line L0 (41.3, -35) -> (0, -35) projected
  line L1 (41.3, -35) -> (0, -35)
  line L2 (0, -35) -> (0, -38.5)
  line L3 (0, -38.5) -> (41.3, -38.5)
  line L4 (41.3, -38.5) -> (41.3, -35)
  point P0 (0, 0)
  dimension "d72" = 3.5
extrude "Extrusão14" add sketch "Esboço16" against normal blind 22
sketch "Esboço17" plane through (2, 0, -32) normal (0, 0, 1) x (1, 0, 0)
  circle A0 centre (8, 5) radius 2.75 projected
  line L0 (-2, 0) -> (8, 0)
  line L1 (8, 0) -> (8, 5)
  line L2 (8, 5) -> (-2, 5)
  line L3 (-2, 5) -> (-2, 0)
  circle A1 centre (29.3, 17) radius 2.75 projected
  line L4 (8, 5) -> (29.3, 5)
  line L5 (29.3, 5) -> (29.3, 17)
  line L6 (29.3, 17) -> (8, 17)
  line L7 (8, 17) -> (8, 5)
properties part number "link_manip_parafusos"
